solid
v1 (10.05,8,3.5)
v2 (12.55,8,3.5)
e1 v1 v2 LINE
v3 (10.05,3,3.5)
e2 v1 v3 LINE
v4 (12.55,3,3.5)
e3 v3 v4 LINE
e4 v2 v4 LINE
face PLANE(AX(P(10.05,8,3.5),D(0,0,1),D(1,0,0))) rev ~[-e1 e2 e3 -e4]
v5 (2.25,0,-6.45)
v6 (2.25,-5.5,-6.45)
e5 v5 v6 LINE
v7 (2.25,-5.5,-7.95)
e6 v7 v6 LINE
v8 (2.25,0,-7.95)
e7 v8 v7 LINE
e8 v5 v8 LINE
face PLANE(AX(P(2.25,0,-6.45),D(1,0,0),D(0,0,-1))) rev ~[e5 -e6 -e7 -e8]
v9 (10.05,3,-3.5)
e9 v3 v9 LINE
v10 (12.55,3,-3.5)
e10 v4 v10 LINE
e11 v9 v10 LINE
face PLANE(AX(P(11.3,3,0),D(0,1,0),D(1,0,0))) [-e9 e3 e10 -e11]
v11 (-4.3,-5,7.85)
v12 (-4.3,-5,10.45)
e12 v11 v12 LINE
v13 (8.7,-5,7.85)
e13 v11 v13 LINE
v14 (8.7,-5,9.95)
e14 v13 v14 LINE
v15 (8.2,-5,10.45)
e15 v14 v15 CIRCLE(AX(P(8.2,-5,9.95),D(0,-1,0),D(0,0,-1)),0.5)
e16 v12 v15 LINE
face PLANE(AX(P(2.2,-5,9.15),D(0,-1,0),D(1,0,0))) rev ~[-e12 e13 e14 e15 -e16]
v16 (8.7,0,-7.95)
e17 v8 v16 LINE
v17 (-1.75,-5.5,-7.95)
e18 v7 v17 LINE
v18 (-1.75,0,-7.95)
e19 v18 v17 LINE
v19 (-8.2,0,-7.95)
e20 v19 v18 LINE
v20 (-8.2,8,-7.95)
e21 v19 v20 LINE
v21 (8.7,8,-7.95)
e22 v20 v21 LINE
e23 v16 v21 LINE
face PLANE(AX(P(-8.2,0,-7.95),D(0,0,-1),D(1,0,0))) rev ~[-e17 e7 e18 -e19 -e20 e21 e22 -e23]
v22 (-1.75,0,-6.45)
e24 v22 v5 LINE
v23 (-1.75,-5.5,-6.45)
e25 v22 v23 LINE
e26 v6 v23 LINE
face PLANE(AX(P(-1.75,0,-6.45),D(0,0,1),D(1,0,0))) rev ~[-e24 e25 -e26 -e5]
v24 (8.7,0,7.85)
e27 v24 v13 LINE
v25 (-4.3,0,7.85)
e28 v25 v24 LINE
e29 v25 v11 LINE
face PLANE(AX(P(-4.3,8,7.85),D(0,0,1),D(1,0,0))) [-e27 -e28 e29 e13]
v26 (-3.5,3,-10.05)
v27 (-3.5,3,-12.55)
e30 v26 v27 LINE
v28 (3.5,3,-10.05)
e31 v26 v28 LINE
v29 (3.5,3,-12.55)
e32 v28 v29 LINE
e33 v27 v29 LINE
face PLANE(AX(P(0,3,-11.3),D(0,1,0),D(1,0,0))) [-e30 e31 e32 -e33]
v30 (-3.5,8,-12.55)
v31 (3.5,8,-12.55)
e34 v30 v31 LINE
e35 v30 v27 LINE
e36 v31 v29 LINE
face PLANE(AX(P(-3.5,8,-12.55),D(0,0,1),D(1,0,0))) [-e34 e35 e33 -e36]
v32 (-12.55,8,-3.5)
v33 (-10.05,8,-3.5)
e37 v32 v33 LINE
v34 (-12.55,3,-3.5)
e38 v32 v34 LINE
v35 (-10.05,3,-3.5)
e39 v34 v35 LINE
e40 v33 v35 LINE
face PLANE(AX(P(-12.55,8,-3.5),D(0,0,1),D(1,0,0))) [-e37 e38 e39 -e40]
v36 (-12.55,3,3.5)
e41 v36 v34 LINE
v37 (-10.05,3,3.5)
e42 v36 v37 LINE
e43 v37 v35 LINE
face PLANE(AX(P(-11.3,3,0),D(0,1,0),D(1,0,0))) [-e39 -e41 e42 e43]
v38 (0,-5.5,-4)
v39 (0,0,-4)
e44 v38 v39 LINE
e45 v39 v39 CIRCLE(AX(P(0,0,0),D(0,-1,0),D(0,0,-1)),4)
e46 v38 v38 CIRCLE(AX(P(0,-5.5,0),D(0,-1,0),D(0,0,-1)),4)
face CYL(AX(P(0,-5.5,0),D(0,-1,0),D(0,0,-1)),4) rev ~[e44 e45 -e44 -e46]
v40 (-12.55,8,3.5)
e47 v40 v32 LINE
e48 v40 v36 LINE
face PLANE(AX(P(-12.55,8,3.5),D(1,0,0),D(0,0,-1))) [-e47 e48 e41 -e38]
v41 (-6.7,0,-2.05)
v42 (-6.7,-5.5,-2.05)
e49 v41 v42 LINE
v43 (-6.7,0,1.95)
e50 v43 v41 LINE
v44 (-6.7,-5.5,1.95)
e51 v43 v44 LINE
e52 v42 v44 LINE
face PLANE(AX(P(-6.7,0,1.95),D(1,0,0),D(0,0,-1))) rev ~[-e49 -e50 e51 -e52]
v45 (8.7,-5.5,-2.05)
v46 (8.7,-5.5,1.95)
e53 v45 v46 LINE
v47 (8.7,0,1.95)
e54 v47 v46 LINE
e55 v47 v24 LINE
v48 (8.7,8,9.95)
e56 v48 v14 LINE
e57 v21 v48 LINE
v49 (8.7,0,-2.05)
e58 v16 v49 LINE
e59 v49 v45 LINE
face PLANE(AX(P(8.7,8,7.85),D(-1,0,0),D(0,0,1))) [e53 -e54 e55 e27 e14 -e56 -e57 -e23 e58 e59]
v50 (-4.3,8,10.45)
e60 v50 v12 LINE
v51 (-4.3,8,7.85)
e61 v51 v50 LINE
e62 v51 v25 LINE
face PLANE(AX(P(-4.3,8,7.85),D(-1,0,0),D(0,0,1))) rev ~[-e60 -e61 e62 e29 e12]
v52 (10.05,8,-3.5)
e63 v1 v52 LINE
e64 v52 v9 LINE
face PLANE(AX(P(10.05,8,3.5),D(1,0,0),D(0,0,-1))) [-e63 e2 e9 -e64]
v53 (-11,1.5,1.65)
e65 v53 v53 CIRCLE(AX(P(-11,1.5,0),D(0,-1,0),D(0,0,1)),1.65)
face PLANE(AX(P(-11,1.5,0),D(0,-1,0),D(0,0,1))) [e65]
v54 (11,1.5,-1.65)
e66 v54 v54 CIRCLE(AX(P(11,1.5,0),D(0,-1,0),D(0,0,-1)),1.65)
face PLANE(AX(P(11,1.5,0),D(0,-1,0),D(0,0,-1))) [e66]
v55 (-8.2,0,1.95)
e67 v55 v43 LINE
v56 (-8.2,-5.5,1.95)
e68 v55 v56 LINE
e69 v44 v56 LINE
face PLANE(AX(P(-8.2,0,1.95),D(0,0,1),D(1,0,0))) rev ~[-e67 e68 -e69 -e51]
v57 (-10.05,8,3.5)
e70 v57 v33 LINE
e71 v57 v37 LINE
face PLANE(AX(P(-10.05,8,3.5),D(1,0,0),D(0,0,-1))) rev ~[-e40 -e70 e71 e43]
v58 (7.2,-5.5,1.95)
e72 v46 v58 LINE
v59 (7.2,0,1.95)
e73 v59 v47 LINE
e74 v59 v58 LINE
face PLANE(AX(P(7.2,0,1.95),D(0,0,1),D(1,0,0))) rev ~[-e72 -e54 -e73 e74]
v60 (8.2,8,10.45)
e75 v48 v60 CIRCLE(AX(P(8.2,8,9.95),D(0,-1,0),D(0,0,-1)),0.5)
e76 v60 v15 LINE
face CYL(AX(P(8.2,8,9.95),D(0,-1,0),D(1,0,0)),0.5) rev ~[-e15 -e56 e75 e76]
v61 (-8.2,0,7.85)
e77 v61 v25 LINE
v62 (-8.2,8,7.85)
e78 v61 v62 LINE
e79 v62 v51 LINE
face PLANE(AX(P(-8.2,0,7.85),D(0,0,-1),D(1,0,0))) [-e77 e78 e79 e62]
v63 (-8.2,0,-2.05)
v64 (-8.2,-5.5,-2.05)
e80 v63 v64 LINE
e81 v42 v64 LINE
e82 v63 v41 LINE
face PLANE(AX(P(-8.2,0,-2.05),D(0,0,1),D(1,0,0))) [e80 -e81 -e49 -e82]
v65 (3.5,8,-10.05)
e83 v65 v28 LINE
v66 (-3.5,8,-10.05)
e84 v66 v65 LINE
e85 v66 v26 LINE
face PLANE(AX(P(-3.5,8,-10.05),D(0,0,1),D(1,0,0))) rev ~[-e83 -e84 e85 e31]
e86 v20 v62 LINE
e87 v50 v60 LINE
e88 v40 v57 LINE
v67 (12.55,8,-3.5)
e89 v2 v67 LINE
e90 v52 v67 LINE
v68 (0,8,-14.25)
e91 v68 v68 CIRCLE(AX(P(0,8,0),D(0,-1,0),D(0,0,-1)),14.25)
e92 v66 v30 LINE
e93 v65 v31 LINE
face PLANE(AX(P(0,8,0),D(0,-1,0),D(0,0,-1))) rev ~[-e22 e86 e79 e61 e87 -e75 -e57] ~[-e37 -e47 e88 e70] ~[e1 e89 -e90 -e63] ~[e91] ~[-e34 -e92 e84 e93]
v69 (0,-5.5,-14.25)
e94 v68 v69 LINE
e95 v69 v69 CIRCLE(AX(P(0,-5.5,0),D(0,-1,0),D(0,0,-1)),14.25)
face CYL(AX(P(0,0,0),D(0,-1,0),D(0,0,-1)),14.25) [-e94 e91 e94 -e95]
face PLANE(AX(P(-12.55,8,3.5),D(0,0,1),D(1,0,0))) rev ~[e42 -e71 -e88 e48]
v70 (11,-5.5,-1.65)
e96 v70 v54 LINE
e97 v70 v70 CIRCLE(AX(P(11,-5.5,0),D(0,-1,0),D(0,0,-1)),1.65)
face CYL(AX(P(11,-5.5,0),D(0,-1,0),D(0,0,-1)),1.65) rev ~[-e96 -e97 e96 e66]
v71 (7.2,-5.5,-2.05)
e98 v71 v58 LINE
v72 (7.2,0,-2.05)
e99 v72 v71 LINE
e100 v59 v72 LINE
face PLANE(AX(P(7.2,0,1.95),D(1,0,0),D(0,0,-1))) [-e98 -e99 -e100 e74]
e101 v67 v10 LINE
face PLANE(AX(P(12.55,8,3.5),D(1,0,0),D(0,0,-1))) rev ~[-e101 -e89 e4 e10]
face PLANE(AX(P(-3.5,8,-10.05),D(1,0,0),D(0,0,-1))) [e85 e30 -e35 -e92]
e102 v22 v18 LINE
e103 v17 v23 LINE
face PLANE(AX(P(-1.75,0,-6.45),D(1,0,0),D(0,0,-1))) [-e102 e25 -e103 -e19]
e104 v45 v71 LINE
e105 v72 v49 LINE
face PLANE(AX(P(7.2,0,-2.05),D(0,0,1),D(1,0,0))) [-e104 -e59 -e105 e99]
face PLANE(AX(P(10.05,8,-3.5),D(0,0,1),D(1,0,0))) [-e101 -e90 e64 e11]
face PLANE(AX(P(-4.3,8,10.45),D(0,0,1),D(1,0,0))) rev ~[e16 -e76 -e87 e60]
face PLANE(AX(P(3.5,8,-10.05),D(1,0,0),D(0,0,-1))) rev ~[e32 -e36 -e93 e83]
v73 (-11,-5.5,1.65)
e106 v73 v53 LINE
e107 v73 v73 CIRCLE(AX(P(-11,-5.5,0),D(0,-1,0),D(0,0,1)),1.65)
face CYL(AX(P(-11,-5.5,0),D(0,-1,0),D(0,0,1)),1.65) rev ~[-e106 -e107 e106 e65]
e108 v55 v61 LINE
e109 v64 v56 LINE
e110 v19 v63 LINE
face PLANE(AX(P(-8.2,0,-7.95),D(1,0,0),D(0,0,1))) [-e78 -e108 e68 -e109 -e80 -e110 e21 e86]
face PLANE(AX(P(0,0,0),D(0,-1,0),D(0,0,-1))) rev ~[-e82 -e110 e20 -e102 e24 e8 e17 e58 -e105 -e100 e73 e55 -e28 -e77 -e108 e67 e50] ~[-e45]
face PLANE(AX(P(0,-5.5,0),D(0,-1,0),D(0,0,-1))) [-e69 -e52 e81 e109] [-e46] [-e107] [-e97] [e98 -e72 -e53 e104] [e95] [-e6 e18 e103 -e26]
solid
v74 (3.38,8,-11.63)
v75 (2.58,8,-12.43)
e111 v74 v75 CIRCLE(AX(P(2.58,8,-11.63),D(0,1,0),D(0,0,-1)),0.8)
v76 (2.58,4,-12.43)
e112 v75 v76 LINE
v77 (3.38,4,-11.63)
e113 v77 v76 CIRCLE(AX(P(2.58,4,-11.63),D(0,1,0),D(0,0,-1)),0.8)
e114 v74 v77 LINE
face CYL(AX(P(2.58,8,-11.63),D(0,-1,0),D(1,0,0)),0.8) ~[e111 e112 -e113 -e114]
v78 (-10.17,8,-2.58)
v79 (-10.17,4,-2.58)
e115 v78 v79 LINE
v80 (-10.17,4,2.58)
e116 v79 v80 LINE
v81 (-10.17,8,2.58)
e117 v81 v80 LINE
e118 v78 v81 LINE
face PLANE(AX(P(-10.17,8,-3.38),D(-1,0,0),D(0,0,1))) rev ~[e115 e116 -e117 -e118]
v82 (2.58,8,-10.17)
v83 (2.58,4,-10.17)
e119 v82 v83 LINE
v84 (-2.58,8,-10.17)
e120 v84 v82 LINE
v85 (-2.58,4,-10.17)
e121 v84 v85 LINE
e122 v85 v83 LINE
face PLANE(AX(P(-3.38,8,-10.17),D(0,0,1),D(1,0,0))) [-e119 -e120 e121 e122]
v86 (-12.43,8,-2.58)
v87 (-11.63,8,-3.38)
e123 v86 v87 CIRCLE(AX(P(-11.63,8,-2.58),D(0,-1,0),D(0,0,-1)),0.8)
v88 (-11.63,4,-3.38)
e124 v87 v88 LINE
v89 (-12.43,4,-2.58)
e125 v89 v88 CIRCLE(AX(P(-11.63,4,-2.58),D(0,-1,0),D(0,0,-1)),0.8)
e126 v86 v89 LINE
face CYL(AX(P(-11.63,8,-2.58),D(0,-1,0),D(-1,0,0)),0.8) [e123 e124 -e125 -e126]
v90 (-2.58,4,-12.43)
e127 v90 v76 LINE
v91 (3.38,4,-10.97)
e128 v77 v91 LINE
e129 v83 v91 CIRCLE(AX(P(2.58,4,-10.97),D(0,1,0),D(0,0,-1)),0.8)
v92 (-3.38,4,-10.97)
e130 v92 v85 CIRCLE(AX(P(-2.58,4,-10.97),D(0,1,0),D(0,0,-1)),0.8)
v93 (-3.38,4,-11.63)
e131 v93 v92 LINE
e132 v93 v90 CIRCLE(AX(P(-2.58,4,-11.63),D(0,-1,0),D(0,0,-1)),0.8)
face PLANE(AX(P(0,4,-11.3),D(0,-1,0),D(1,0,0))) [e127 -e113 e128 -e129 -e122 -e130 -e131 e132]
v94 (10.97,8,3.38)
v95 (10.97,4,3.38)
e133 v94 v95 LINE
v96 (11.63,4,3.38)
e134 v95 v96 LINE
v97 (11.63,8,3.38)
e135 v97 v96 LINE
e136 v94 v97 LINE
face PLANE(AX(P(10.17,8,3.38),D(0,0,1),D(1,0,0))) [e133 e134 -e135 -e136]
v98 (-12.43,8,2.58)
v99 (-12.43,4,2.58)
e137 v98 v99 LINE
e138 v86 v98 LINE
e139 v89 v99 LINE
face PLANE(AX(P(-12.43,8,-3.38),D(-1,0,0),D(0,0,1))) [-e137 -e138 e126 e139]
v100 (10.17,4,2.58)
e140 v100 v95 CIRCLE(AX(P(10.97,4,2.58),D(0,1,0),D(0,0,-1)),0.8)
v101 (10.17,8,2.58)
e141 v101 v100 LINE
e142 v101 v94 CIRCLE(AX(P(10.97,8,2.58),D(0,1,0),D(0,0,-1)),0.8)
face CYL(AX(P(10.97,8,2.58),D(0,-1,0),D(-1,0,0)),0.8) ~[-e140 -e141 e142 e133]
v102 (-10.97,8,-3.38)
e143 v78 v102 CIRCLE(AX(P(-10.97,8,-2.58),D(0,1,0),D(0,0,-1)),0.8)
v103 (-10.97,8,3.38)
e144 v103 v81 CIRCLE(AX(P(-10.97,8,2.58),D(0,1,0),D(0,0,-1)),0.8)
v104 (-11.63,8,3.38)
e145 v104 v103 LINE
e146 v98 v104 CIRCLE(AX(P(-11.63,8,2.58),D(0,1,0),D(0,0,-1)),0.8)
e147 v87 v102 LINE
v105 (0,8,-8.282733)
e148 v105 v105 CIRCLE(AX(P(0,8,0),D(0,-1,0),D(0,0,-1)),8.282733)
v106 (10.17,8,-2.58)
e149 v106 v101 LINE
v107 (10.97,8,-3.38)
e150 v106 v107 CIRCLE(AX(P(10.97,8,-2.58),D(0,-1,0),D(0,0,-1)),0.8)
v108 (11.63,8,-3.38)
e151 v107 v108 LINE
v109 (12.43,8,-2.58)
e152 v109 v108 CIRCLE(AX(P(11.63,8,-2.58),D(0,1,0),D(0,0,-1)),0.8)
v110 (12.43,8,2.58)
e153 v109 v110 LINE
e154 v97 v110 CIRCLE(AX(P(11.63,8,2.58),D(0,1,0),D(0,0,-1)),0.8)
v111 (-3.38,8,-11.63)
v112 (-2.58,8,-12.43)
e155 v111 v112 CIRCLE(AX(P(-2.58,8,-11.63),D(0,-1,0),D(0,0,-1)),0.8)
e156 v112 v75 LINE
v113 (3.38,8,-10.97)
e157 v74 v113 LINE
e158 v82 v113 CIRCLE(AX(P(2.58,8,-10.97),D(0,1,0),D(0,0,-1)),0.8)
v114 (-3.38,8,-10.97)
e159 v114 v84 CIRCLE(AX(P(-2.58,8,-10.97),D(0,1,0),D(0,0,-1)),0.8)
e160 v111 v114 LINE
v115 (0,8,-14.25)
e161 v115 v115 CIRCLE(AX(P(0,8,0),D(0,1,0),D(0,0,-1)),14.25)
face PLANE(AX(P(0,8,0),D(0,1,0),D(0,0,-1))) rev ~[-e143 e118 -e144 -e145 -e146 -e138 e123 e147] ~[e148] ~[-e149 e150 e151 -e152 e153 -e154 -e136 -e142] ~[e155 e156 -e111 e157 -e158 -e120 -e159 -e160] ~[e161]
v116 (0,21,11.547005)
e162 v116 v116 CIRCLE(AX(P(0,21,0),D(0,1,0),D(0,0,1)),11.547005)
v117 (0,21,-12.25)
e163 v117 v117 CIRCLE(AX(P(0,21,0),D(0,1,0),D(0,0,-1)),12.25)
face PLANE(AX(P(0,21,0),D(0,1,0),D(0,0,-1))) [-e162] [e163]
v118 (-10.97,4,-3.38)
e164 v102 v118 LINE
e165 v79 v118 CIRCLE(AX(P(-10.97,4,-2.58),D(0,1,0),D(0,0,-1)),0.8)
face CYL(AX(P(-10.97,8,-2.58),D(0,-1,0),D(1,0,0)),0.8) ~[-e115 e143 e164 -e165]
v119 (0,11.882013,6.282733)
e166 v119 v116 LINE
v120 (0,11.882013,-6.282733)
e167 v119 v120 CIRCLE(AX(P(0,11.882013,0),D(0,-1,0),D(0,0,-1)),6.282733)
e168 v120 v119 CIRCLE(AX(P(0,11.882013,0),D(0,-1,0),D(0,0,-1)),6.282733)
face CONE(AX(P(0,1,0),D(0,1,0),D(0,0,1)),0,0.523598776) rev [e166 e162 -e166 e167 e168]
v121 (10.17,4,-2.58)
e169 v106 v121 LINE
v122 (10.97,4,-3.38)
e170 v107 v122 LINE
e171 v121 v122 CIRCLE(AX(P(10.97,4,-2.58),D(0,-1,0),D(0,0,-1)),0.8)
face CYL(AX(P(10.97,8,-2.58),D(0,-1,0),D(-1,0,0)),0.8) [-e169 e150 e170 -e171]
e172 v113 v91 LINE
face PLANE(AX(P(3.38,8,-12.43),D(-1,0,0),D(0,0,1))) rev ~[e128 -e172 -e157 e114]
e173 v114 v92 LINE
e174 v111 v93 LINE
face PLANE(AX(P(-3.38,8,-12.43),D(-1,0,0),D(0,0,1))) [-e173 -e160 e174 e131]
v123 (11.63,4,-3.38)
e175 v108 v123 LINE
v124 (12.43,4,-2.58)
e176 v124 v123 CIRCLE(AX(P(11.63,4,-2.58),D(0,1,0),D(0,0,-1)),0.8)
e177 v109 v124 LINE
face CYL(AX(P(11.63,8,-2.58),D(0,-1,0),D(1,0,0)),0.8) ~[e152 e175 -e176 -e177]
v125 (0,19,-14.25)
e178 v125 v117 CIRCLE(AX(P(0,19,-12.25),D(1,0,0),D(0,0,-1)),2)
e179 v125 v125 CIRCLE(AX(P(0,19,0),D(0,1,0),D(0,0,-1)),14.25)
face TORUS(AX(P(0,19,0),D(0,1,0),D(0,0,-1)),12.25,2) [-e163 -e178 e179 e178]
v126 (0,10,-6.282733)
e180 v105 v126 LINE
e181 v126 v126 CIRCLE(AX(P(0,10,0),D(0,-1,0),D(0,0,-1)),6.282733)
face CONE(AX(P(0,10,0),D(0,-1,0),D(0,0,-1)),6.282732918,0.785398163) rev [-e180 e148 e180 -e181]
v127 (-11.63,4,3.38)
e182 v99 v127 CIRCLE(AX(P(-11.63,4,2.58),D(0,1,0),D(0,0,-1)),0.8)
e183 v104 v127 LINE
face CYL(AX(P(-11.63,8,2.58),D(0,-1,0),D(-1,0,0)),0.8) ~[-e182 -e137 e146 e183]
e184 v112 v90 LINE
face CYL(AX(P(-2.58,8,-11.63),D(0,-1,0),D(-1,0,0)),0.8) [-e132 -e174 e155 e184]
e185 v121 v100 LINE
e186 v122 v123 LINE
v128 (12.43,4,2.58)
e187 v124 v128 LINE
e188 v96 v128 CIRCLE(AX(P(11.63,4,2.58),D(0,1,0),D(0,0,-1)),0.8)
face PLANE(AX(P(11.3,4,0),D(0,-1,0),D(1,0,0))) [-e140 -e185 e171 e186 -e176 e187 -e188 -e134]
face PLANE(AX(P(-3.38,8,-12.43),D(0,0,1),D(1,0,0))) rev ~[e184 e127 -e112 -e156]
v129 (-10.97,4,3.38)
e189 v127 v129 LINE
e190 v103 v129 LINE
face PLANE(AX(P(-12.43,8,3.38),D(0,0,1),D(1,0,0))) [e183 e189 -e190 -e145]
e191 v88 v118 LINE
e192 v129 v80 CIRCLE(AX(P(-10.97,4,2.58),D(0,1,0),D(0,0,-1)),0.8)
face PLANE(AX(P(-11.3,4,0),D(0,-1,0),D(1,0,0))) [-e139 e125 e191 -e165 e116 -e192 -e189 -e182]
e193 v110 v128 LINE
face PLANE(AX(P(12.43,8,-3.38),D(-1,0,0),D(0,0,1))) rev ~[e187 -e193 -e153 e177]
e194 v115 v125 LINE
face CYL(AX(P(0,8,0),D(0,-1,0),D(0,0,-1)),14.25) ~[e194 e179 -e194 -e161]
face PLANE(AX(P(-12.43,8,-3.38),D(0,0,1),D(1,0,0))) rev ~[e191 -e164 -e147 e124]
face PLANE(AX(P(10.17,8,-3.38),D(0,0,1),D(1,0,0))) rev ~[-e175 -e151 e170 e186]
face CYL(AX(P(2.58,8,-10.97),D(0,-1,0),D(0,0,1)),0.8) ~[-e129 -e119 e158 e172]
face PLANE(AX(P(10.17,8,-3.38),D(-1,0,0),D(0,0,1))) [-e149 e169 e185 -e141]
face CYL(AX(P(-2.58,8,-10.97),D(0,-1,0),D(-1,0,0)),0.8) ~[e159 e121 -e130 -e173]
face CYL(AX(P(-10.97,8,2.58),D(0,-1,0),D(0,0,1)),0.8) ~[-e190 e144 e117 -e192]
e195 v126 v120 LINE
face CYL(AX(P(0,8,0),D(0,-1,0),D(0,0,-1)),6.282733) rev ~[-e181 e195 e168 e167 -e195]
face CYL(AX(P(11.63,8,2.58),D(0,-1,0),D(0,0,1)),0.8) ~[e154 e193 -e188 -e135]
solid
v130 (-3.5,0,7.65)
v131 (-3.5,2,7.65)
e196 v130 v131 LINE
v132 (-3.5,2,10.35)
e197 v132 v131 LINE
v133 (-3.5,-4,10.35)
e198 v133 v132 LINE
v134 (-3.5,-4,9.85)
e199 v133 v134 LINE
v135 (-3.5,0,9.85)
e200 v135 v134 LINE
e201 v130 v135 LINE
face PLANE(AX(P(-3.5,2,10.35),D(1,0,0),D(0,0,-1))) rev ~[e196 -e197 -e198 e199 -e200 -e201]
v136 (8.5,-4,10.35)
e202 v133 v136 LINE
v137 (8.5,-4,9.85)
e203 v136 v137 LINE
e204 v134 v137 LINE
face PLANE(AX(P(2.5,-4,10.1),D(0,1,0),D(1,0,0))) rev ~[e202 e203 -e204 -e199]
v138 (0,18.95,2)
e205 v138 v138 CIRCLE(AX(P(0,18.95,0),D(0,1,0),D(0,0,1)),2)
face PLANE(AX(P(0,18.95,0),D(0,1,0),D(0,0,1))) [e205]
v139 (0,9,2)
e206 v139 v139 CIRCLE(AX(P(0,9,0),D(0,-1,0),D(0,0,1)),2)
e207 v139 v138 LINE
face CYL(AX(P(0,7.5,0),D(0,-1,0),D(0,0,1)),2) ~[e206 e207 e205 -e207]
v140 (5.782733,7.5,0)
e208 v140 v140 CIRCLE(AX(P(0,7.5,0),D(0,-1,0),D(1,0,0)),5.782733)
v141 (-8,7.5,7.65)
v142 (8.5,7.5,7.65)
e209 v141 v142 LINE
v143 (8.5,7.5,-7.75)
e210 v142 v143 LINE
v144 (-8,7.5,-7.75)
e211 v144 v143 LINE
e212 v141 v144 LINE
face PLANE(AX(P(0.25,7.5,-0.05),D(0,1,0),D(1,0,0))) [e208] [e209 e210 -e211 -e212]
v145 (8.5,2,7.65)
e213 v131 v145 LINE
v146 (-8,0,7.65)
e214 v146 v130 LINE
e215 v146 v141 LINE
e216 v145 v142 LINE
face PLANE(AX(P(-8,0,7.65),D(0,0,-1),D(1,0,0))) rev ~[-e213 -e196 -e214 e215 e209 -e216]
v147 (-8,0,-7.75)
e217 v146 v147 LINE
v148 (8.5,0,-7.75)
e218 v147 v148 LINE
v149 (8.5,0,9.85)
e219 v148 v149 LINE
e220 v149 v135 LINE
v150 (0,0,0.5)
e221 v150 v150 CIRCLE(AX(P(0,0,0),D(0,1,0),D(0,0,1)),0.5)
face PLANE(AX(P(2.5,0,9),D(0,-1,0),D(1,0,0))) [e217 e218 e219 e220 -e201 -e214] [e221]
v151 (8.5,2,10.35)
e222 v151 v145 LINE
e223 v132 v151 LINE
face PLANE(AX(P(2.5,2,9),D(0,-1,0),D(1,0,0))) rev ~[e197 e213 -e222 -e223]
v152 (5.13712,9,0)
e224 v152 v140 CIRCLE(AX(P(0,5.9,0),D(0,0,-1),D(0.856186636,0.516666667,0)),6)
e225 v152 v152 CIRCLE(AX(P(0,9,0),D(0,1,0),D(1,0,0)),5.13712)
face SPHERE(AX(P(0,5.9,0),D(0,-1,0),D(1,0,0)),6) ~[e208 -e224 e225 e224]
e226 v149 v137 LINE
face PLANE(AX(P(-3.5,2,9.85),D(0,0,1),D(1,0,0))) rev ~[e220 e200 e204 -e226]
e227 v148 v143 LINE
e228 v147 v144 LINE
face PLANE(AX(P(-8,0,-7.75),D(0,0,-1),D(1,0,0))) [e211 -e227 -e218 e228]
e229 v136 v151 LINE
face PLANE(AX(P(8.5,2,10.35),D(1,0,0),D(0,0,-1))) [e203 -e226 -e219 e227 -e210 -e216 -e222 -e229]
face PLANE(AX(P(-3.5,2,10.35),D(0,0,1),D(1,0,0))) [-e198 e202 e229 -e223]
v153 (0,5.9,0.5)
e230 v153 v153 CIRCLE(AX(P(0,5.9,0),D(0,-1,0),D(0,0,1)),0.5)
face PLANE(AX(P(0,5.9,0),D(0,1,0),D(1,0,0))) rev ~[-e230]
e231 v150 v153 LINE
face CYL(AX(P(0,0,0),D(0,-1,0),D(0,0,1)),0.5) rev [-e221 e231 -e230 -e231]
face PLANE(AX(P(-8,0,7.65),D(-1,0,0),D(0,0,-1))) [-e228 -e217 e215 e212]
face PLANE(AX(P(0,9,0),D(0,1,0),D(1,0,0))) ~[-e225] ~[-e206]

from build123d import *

# Parameters (mm, degrees)
SKETCH_1_W          = 16.5
SKETCH_1_H          = 15.4
SKETCH_1_R          = 0.5
EXTRUDE_1_DEPTH     = 7.5
SKETCH_2_W          = 12
SKETCH_2_H          = 2.7
EXTRUDE_2_DEPTH     = 2
SKETCH_3_W          = 12
SKETCH_3_H          = 0.5
EXTRUDE_3_DEPTH     = 6
SKETCH_4_R          = 2
EXTRUDE_4_DEPTH     = 11.45
SKETCH_6_R          = 14.25
SKETCH_6_W          = 16.9
SKETCH_6_H          = 15.8
EXTRUDE_5_DEPTH     = 8
SKETCH_8_R          = 14.25
EXTRUDE_6_DEPTH     = 5.5
SKETCH_7_W          = 13
SKETCH_7_H          = 2.6
CUT_EXTRUDE_2_DEPTH = 13
FILLET_1_R          = 0.5
SKETCH_9_R          = 1.65
CUT_EXTRUDE_3_DEPTH = 7
SKETCH_11_W         = 2.5
SKETCH_11_H         = 7
SKETCH_11_W_2       = 7
SKETCH_11_H_2       = 2.5
CUT_EXTRUDE_4_DEPTH = 5
SKETCH_12_W         = 1.5
SKETCH_12_H         = 4
SKETCH_12_W_2       = 4
SKETCH_12_H_2       = 1.5
CUT_EXTRUDE_5_DEPTH = 7
SKETCH_13_R         = 14.25
EXTRUDE_8_DEPTH     = 13
SKETCH_15_R         = 6.282732918
CUT_EXTRUDE_6_DEPTH = 15
FILLET_2_R          = 2
SKETCH_16_W         = 2.26
SKETCH_16_H         = 6.76
SKETCH_16_W_2       = 6.76
SKETCH_16_H_2       = 2.26
EXTRUDE_9_DEPTH     = 4
FILLET_3_R          = 0.8
SKETCH_17_R         = 4
CUT_EXTRUDE_7_DEPTH = 13.5
CHAMFER_1_SIZE      = 2


with BuildPart() as part:
    # 草图1 → 凸台-拉伸1 (new body)
    with BuildSketch(Plane(origin=(0, 0, 0), x_dir=(1, 0, 0), z_dir=(0, 1, 0))):
        with Locations((0.25, 0.05)):
            Rectangle(SKETCH_1_W, SKETCH_1_H)
        with Locations(Location((0, 0, 0), (0, 0, 270))):
            Circle(SKETCH_1_R, mode=Mode.SUBTRACT)
    extrude(amount=EXTRUDE_1_DEPTH)

    # 草图2 → 凸台-拉伸2 (add)
    with BuildSketch(Plane.XZ):
        with Locations((2.5, 9)):
            Rectangle(SKETCH_2_W, SKETCH_2_H)
    extrude(amount=-EXTRUDE_2_DEPTH)

    # 草图3 → 凸台-拉伸3 (add)
    with BuildSketch(Plane(origin=(0, 2, 0), x_dir=(1, 0, 0), z_dir=(0, 1, 0))):
        with Locations((2.5, -10.1)):
            Rectangle(SKETCH_3_W, SKETCH_3_H)
    extrude(amount=-EXTRUDE_3_DEPTH)

    # 草图4 → 凸台-拉伸4 (add)
    with BuildSketch(Plane(origin=(0, 7.5, 0), x_dir=(1, 0, 0), z_dir=(0, 1, 0))):
        with Locations(Location((0, 0, 0), (0, 0, 270))):
            Circle(SKETCH_4_R)
    extrude(amount=EXTRUDE_4_DEPTH)

    # 草图5 → 旋转1 (revolve)
    with BuildSketch(Plane.XY):
        with BuildLine():
            Line((0, 9), (5.137119816, 9))
            ThreePointArc((5.137119816, 9), (5.780256002, 7.508925279), (6, 5.9))
            Line((6, 5.9), (0, 5.9))
            Line((0, 5.9), (0, 9))
        make_face()
    revolve(axis=Axis((0, 0, 0), (0, 1, 0)))


with BuildPart() as body_2:
    # 草图6 → 凸台-拉伸5 (new body)
    with BuildSketch(Plane.XZ):
        with Locations(Location((0, 0, 0), (0, 0, 270))):
            Circle(SKETCH_6_R)
        with Locations((0.25, -0.05)):
            Rectangle(SKETCH_6_W, SKETCH_6_H, mode=Mode.SUBTRACT)
    extrude(amount=-EXTRUDE_5_DEPTH)

    # 草图8 → 凸台-拉伸6 (add)
    with BuildSketch(Plane.XZ):
        with Locations(Location((0, 0, 0), (0, 0, 270))):
            Circle(SKETCH_8_R)
    extrude(amount=EXTRUDE_6_DEPTH)

    # 草图7 → 切除-拉伸2 (cut)
    with BuildSketch(Plane.XZ.offset(-8)):
        with Locations((2.2, 9.15)):
            Rectangle(SKETCH_7_W, SKETCH_7_H)
    extrude(amount=CUT_EXTRUDE_2_DEPTH, mode=Mode.SUBTRACT)

    # 圆角1
    fillet_1_edges = [body_2.edges().sort_by_distance(p)[0] for p in [
        (8.7, 1.5, 10.45),
    ]]
    fillet(fillet_1_edges, radius=FILLET_1_R)

    # 草图9 → 切除-拉伸3 (cut)
    with BuildSketch(Plane.XZ.offset(5.5)):
        with Locations(Location((11, 0, 0), (0, 0, 270))):
            Circle(SKETCH_9_R)
        with Locations(Location((-11, 0, 0), (0, 0, 90))):
            Circle(SKETCH_9_R)
    extrude(amount=-CUT_EXTRUDE_3_DEPTH, mode=Mode.SUBTRACT)

    # 草图11 → 切除-拉伸4 (cut)
    with BuildSketch(Plane(origin=(0, 8, 0), x_dir=(1, 0, 0), z_dir=(0, 1, 0))):
        with Locations((-11.3, 0)):
            Rectangle(SKETCH_11_W, SKETCH_11_H)
        with Locations((11.3, 0)):
            Rectangle(SKETCH_11_W, SKETCH_11_H)
        with Locations((0, 11.3)):
            Rectangle(SKETCH_11_W_2, SKETCH_11_H_2)
    extrude(amount=-CUT_EXTRUDE_4_DEPTH, mode=Mode.SUBTRACT)

    # 草图12 → 切除-拉伸5 (cut)
    with BuildSketch(Plane(origin=(0, 0, 0), x_dir=(1, 0, 0), z_dir=(0, 1, 0))):
        with Locations((7.95, 0.05)):
            Rectangle(SKETCH_12_W, SKETCH_12_H)
        with Locations((0.25, 7.2)):
            Rectangle(SKETCH_12_W_2, SKETCH_12_H_2)
        with Locations((-7.45, 0.05)):
            Rectangle(SKETCH_12_W, SKETCH_12_H)
    extrude(amount=-CUT_EXTRUDE_5_DEPTH, mode=Mode.SUBTRACT)

    # 草图17 → 切除-拉伸7 (cut)
    with BuildSketch(Plane.XZ.offset(5.5)):
        with Locations(Location((0, 0, 0), (0, 0, 270))):
            Circle(SKETCH_17_R)
    extrude(amount=-CUT_EXTRUDE_7_DEPTH, mode=Mode.SUBTRACT)


with BuildPart() as body_3:
    # 草图13 → 凸台-拉伸8 (new body)
    with BuildSketch(Plane(origin=(0, 8, 0), x_dir=(1, 0, 0), z_dir=(0, 1, 0))):
        with Locations(Location((0, 0, 0), (0, 0, 90))):
            Circle(SKETCH_13_R)
    extrude(amount=EXTRUDE_8_DEPTH)

    # 草图14 → 切除-旋转1 (revolve, cut)
    with BuildSketch(Plane.XY, mode=Mode.PRIVATE) as cut_revolve_1_sk:
        Polygon((0, 1), (13.735073412, 24.789844995), (0, 24.789844995), align=None)
    revolve(cut_revolve_1_sk.sketch.rotate(Axis((0, 24.789844995, 0), (0, -1, 0)), 90), axis=Axis((0, 24.789844995, 0), (0, -1, 0)), mode=Mode.SUBTRACT)

    # 草图15 → 切除-拉伸6 (cut)
    with BuildSketch(Plane.XZ.offset(-8)):
        with Locations(Location((0, 0, 0), (0, 0, 270))):
            Circle(SKETCH_15_R)
    extrude(amount=-CUT_EXTRUDE_6_DEPTH, mode=Mode.SUBTRACT)

    # 圆角2
    fillet_2_edges = [body_3.edges().sort_by_distance(p)[0] for p in [
        (0, 21, 14.25),
    ]]
    fillet(fillet_2_edges, radius=FILLET_2_R)

    # 草图16 → 凸台-拉伸9 (add)
    with BuildSketch(Plane.XZ.offset(-8)):
        with Locations((-11.3, 0)):
            Rectangle(SKETCH_16_W, SKETCH_16_H)
        with Locations((11.3, 0)):
            Rectangle(SKETCH_16_W, SKETCH_16_H)
        with Locations((0, -11.3)):
            Rectangle(SKETCH_16_W_2, SKETCH_16_H_2)
    extrude(amount=EXTRUDE_9_DEPTH)

    # 圆角3
    fillet_3_edges = [body_3.edges().sort_by_distance(p)[0] for p in [
        (-10.17, 6, -3.38),
        (-10.17, 6, 3.38),
        (-12.43, 6, 3.38),
        (-12.43, 6, -3.38),
        (10.17, 6, -3.38),
        (12.43, 6, -3.38),
        (12.43, 6, 3.38),
        (10.17, 6, 3.38),
        (-3.38, 6, -12.43),
        (3.38, 6, -12.43),
        (3.38, 6, -10.17),
        (-3.38, 6, -10.17),
    ]]
    fillet(fillet_3_edges, radius=FILLET_3_R)

    # 倒角1
    chamfer_1_edges = [body_3.edges().sort_by_distance(p)[0] for p in [
        (0, 8, 6.282732918),
    ]]
    chamfer(chamfer_1_edges, length=CHAMFER_1_SIZE)


solid = Compound([part.part, body_2.part, body_3.part])
